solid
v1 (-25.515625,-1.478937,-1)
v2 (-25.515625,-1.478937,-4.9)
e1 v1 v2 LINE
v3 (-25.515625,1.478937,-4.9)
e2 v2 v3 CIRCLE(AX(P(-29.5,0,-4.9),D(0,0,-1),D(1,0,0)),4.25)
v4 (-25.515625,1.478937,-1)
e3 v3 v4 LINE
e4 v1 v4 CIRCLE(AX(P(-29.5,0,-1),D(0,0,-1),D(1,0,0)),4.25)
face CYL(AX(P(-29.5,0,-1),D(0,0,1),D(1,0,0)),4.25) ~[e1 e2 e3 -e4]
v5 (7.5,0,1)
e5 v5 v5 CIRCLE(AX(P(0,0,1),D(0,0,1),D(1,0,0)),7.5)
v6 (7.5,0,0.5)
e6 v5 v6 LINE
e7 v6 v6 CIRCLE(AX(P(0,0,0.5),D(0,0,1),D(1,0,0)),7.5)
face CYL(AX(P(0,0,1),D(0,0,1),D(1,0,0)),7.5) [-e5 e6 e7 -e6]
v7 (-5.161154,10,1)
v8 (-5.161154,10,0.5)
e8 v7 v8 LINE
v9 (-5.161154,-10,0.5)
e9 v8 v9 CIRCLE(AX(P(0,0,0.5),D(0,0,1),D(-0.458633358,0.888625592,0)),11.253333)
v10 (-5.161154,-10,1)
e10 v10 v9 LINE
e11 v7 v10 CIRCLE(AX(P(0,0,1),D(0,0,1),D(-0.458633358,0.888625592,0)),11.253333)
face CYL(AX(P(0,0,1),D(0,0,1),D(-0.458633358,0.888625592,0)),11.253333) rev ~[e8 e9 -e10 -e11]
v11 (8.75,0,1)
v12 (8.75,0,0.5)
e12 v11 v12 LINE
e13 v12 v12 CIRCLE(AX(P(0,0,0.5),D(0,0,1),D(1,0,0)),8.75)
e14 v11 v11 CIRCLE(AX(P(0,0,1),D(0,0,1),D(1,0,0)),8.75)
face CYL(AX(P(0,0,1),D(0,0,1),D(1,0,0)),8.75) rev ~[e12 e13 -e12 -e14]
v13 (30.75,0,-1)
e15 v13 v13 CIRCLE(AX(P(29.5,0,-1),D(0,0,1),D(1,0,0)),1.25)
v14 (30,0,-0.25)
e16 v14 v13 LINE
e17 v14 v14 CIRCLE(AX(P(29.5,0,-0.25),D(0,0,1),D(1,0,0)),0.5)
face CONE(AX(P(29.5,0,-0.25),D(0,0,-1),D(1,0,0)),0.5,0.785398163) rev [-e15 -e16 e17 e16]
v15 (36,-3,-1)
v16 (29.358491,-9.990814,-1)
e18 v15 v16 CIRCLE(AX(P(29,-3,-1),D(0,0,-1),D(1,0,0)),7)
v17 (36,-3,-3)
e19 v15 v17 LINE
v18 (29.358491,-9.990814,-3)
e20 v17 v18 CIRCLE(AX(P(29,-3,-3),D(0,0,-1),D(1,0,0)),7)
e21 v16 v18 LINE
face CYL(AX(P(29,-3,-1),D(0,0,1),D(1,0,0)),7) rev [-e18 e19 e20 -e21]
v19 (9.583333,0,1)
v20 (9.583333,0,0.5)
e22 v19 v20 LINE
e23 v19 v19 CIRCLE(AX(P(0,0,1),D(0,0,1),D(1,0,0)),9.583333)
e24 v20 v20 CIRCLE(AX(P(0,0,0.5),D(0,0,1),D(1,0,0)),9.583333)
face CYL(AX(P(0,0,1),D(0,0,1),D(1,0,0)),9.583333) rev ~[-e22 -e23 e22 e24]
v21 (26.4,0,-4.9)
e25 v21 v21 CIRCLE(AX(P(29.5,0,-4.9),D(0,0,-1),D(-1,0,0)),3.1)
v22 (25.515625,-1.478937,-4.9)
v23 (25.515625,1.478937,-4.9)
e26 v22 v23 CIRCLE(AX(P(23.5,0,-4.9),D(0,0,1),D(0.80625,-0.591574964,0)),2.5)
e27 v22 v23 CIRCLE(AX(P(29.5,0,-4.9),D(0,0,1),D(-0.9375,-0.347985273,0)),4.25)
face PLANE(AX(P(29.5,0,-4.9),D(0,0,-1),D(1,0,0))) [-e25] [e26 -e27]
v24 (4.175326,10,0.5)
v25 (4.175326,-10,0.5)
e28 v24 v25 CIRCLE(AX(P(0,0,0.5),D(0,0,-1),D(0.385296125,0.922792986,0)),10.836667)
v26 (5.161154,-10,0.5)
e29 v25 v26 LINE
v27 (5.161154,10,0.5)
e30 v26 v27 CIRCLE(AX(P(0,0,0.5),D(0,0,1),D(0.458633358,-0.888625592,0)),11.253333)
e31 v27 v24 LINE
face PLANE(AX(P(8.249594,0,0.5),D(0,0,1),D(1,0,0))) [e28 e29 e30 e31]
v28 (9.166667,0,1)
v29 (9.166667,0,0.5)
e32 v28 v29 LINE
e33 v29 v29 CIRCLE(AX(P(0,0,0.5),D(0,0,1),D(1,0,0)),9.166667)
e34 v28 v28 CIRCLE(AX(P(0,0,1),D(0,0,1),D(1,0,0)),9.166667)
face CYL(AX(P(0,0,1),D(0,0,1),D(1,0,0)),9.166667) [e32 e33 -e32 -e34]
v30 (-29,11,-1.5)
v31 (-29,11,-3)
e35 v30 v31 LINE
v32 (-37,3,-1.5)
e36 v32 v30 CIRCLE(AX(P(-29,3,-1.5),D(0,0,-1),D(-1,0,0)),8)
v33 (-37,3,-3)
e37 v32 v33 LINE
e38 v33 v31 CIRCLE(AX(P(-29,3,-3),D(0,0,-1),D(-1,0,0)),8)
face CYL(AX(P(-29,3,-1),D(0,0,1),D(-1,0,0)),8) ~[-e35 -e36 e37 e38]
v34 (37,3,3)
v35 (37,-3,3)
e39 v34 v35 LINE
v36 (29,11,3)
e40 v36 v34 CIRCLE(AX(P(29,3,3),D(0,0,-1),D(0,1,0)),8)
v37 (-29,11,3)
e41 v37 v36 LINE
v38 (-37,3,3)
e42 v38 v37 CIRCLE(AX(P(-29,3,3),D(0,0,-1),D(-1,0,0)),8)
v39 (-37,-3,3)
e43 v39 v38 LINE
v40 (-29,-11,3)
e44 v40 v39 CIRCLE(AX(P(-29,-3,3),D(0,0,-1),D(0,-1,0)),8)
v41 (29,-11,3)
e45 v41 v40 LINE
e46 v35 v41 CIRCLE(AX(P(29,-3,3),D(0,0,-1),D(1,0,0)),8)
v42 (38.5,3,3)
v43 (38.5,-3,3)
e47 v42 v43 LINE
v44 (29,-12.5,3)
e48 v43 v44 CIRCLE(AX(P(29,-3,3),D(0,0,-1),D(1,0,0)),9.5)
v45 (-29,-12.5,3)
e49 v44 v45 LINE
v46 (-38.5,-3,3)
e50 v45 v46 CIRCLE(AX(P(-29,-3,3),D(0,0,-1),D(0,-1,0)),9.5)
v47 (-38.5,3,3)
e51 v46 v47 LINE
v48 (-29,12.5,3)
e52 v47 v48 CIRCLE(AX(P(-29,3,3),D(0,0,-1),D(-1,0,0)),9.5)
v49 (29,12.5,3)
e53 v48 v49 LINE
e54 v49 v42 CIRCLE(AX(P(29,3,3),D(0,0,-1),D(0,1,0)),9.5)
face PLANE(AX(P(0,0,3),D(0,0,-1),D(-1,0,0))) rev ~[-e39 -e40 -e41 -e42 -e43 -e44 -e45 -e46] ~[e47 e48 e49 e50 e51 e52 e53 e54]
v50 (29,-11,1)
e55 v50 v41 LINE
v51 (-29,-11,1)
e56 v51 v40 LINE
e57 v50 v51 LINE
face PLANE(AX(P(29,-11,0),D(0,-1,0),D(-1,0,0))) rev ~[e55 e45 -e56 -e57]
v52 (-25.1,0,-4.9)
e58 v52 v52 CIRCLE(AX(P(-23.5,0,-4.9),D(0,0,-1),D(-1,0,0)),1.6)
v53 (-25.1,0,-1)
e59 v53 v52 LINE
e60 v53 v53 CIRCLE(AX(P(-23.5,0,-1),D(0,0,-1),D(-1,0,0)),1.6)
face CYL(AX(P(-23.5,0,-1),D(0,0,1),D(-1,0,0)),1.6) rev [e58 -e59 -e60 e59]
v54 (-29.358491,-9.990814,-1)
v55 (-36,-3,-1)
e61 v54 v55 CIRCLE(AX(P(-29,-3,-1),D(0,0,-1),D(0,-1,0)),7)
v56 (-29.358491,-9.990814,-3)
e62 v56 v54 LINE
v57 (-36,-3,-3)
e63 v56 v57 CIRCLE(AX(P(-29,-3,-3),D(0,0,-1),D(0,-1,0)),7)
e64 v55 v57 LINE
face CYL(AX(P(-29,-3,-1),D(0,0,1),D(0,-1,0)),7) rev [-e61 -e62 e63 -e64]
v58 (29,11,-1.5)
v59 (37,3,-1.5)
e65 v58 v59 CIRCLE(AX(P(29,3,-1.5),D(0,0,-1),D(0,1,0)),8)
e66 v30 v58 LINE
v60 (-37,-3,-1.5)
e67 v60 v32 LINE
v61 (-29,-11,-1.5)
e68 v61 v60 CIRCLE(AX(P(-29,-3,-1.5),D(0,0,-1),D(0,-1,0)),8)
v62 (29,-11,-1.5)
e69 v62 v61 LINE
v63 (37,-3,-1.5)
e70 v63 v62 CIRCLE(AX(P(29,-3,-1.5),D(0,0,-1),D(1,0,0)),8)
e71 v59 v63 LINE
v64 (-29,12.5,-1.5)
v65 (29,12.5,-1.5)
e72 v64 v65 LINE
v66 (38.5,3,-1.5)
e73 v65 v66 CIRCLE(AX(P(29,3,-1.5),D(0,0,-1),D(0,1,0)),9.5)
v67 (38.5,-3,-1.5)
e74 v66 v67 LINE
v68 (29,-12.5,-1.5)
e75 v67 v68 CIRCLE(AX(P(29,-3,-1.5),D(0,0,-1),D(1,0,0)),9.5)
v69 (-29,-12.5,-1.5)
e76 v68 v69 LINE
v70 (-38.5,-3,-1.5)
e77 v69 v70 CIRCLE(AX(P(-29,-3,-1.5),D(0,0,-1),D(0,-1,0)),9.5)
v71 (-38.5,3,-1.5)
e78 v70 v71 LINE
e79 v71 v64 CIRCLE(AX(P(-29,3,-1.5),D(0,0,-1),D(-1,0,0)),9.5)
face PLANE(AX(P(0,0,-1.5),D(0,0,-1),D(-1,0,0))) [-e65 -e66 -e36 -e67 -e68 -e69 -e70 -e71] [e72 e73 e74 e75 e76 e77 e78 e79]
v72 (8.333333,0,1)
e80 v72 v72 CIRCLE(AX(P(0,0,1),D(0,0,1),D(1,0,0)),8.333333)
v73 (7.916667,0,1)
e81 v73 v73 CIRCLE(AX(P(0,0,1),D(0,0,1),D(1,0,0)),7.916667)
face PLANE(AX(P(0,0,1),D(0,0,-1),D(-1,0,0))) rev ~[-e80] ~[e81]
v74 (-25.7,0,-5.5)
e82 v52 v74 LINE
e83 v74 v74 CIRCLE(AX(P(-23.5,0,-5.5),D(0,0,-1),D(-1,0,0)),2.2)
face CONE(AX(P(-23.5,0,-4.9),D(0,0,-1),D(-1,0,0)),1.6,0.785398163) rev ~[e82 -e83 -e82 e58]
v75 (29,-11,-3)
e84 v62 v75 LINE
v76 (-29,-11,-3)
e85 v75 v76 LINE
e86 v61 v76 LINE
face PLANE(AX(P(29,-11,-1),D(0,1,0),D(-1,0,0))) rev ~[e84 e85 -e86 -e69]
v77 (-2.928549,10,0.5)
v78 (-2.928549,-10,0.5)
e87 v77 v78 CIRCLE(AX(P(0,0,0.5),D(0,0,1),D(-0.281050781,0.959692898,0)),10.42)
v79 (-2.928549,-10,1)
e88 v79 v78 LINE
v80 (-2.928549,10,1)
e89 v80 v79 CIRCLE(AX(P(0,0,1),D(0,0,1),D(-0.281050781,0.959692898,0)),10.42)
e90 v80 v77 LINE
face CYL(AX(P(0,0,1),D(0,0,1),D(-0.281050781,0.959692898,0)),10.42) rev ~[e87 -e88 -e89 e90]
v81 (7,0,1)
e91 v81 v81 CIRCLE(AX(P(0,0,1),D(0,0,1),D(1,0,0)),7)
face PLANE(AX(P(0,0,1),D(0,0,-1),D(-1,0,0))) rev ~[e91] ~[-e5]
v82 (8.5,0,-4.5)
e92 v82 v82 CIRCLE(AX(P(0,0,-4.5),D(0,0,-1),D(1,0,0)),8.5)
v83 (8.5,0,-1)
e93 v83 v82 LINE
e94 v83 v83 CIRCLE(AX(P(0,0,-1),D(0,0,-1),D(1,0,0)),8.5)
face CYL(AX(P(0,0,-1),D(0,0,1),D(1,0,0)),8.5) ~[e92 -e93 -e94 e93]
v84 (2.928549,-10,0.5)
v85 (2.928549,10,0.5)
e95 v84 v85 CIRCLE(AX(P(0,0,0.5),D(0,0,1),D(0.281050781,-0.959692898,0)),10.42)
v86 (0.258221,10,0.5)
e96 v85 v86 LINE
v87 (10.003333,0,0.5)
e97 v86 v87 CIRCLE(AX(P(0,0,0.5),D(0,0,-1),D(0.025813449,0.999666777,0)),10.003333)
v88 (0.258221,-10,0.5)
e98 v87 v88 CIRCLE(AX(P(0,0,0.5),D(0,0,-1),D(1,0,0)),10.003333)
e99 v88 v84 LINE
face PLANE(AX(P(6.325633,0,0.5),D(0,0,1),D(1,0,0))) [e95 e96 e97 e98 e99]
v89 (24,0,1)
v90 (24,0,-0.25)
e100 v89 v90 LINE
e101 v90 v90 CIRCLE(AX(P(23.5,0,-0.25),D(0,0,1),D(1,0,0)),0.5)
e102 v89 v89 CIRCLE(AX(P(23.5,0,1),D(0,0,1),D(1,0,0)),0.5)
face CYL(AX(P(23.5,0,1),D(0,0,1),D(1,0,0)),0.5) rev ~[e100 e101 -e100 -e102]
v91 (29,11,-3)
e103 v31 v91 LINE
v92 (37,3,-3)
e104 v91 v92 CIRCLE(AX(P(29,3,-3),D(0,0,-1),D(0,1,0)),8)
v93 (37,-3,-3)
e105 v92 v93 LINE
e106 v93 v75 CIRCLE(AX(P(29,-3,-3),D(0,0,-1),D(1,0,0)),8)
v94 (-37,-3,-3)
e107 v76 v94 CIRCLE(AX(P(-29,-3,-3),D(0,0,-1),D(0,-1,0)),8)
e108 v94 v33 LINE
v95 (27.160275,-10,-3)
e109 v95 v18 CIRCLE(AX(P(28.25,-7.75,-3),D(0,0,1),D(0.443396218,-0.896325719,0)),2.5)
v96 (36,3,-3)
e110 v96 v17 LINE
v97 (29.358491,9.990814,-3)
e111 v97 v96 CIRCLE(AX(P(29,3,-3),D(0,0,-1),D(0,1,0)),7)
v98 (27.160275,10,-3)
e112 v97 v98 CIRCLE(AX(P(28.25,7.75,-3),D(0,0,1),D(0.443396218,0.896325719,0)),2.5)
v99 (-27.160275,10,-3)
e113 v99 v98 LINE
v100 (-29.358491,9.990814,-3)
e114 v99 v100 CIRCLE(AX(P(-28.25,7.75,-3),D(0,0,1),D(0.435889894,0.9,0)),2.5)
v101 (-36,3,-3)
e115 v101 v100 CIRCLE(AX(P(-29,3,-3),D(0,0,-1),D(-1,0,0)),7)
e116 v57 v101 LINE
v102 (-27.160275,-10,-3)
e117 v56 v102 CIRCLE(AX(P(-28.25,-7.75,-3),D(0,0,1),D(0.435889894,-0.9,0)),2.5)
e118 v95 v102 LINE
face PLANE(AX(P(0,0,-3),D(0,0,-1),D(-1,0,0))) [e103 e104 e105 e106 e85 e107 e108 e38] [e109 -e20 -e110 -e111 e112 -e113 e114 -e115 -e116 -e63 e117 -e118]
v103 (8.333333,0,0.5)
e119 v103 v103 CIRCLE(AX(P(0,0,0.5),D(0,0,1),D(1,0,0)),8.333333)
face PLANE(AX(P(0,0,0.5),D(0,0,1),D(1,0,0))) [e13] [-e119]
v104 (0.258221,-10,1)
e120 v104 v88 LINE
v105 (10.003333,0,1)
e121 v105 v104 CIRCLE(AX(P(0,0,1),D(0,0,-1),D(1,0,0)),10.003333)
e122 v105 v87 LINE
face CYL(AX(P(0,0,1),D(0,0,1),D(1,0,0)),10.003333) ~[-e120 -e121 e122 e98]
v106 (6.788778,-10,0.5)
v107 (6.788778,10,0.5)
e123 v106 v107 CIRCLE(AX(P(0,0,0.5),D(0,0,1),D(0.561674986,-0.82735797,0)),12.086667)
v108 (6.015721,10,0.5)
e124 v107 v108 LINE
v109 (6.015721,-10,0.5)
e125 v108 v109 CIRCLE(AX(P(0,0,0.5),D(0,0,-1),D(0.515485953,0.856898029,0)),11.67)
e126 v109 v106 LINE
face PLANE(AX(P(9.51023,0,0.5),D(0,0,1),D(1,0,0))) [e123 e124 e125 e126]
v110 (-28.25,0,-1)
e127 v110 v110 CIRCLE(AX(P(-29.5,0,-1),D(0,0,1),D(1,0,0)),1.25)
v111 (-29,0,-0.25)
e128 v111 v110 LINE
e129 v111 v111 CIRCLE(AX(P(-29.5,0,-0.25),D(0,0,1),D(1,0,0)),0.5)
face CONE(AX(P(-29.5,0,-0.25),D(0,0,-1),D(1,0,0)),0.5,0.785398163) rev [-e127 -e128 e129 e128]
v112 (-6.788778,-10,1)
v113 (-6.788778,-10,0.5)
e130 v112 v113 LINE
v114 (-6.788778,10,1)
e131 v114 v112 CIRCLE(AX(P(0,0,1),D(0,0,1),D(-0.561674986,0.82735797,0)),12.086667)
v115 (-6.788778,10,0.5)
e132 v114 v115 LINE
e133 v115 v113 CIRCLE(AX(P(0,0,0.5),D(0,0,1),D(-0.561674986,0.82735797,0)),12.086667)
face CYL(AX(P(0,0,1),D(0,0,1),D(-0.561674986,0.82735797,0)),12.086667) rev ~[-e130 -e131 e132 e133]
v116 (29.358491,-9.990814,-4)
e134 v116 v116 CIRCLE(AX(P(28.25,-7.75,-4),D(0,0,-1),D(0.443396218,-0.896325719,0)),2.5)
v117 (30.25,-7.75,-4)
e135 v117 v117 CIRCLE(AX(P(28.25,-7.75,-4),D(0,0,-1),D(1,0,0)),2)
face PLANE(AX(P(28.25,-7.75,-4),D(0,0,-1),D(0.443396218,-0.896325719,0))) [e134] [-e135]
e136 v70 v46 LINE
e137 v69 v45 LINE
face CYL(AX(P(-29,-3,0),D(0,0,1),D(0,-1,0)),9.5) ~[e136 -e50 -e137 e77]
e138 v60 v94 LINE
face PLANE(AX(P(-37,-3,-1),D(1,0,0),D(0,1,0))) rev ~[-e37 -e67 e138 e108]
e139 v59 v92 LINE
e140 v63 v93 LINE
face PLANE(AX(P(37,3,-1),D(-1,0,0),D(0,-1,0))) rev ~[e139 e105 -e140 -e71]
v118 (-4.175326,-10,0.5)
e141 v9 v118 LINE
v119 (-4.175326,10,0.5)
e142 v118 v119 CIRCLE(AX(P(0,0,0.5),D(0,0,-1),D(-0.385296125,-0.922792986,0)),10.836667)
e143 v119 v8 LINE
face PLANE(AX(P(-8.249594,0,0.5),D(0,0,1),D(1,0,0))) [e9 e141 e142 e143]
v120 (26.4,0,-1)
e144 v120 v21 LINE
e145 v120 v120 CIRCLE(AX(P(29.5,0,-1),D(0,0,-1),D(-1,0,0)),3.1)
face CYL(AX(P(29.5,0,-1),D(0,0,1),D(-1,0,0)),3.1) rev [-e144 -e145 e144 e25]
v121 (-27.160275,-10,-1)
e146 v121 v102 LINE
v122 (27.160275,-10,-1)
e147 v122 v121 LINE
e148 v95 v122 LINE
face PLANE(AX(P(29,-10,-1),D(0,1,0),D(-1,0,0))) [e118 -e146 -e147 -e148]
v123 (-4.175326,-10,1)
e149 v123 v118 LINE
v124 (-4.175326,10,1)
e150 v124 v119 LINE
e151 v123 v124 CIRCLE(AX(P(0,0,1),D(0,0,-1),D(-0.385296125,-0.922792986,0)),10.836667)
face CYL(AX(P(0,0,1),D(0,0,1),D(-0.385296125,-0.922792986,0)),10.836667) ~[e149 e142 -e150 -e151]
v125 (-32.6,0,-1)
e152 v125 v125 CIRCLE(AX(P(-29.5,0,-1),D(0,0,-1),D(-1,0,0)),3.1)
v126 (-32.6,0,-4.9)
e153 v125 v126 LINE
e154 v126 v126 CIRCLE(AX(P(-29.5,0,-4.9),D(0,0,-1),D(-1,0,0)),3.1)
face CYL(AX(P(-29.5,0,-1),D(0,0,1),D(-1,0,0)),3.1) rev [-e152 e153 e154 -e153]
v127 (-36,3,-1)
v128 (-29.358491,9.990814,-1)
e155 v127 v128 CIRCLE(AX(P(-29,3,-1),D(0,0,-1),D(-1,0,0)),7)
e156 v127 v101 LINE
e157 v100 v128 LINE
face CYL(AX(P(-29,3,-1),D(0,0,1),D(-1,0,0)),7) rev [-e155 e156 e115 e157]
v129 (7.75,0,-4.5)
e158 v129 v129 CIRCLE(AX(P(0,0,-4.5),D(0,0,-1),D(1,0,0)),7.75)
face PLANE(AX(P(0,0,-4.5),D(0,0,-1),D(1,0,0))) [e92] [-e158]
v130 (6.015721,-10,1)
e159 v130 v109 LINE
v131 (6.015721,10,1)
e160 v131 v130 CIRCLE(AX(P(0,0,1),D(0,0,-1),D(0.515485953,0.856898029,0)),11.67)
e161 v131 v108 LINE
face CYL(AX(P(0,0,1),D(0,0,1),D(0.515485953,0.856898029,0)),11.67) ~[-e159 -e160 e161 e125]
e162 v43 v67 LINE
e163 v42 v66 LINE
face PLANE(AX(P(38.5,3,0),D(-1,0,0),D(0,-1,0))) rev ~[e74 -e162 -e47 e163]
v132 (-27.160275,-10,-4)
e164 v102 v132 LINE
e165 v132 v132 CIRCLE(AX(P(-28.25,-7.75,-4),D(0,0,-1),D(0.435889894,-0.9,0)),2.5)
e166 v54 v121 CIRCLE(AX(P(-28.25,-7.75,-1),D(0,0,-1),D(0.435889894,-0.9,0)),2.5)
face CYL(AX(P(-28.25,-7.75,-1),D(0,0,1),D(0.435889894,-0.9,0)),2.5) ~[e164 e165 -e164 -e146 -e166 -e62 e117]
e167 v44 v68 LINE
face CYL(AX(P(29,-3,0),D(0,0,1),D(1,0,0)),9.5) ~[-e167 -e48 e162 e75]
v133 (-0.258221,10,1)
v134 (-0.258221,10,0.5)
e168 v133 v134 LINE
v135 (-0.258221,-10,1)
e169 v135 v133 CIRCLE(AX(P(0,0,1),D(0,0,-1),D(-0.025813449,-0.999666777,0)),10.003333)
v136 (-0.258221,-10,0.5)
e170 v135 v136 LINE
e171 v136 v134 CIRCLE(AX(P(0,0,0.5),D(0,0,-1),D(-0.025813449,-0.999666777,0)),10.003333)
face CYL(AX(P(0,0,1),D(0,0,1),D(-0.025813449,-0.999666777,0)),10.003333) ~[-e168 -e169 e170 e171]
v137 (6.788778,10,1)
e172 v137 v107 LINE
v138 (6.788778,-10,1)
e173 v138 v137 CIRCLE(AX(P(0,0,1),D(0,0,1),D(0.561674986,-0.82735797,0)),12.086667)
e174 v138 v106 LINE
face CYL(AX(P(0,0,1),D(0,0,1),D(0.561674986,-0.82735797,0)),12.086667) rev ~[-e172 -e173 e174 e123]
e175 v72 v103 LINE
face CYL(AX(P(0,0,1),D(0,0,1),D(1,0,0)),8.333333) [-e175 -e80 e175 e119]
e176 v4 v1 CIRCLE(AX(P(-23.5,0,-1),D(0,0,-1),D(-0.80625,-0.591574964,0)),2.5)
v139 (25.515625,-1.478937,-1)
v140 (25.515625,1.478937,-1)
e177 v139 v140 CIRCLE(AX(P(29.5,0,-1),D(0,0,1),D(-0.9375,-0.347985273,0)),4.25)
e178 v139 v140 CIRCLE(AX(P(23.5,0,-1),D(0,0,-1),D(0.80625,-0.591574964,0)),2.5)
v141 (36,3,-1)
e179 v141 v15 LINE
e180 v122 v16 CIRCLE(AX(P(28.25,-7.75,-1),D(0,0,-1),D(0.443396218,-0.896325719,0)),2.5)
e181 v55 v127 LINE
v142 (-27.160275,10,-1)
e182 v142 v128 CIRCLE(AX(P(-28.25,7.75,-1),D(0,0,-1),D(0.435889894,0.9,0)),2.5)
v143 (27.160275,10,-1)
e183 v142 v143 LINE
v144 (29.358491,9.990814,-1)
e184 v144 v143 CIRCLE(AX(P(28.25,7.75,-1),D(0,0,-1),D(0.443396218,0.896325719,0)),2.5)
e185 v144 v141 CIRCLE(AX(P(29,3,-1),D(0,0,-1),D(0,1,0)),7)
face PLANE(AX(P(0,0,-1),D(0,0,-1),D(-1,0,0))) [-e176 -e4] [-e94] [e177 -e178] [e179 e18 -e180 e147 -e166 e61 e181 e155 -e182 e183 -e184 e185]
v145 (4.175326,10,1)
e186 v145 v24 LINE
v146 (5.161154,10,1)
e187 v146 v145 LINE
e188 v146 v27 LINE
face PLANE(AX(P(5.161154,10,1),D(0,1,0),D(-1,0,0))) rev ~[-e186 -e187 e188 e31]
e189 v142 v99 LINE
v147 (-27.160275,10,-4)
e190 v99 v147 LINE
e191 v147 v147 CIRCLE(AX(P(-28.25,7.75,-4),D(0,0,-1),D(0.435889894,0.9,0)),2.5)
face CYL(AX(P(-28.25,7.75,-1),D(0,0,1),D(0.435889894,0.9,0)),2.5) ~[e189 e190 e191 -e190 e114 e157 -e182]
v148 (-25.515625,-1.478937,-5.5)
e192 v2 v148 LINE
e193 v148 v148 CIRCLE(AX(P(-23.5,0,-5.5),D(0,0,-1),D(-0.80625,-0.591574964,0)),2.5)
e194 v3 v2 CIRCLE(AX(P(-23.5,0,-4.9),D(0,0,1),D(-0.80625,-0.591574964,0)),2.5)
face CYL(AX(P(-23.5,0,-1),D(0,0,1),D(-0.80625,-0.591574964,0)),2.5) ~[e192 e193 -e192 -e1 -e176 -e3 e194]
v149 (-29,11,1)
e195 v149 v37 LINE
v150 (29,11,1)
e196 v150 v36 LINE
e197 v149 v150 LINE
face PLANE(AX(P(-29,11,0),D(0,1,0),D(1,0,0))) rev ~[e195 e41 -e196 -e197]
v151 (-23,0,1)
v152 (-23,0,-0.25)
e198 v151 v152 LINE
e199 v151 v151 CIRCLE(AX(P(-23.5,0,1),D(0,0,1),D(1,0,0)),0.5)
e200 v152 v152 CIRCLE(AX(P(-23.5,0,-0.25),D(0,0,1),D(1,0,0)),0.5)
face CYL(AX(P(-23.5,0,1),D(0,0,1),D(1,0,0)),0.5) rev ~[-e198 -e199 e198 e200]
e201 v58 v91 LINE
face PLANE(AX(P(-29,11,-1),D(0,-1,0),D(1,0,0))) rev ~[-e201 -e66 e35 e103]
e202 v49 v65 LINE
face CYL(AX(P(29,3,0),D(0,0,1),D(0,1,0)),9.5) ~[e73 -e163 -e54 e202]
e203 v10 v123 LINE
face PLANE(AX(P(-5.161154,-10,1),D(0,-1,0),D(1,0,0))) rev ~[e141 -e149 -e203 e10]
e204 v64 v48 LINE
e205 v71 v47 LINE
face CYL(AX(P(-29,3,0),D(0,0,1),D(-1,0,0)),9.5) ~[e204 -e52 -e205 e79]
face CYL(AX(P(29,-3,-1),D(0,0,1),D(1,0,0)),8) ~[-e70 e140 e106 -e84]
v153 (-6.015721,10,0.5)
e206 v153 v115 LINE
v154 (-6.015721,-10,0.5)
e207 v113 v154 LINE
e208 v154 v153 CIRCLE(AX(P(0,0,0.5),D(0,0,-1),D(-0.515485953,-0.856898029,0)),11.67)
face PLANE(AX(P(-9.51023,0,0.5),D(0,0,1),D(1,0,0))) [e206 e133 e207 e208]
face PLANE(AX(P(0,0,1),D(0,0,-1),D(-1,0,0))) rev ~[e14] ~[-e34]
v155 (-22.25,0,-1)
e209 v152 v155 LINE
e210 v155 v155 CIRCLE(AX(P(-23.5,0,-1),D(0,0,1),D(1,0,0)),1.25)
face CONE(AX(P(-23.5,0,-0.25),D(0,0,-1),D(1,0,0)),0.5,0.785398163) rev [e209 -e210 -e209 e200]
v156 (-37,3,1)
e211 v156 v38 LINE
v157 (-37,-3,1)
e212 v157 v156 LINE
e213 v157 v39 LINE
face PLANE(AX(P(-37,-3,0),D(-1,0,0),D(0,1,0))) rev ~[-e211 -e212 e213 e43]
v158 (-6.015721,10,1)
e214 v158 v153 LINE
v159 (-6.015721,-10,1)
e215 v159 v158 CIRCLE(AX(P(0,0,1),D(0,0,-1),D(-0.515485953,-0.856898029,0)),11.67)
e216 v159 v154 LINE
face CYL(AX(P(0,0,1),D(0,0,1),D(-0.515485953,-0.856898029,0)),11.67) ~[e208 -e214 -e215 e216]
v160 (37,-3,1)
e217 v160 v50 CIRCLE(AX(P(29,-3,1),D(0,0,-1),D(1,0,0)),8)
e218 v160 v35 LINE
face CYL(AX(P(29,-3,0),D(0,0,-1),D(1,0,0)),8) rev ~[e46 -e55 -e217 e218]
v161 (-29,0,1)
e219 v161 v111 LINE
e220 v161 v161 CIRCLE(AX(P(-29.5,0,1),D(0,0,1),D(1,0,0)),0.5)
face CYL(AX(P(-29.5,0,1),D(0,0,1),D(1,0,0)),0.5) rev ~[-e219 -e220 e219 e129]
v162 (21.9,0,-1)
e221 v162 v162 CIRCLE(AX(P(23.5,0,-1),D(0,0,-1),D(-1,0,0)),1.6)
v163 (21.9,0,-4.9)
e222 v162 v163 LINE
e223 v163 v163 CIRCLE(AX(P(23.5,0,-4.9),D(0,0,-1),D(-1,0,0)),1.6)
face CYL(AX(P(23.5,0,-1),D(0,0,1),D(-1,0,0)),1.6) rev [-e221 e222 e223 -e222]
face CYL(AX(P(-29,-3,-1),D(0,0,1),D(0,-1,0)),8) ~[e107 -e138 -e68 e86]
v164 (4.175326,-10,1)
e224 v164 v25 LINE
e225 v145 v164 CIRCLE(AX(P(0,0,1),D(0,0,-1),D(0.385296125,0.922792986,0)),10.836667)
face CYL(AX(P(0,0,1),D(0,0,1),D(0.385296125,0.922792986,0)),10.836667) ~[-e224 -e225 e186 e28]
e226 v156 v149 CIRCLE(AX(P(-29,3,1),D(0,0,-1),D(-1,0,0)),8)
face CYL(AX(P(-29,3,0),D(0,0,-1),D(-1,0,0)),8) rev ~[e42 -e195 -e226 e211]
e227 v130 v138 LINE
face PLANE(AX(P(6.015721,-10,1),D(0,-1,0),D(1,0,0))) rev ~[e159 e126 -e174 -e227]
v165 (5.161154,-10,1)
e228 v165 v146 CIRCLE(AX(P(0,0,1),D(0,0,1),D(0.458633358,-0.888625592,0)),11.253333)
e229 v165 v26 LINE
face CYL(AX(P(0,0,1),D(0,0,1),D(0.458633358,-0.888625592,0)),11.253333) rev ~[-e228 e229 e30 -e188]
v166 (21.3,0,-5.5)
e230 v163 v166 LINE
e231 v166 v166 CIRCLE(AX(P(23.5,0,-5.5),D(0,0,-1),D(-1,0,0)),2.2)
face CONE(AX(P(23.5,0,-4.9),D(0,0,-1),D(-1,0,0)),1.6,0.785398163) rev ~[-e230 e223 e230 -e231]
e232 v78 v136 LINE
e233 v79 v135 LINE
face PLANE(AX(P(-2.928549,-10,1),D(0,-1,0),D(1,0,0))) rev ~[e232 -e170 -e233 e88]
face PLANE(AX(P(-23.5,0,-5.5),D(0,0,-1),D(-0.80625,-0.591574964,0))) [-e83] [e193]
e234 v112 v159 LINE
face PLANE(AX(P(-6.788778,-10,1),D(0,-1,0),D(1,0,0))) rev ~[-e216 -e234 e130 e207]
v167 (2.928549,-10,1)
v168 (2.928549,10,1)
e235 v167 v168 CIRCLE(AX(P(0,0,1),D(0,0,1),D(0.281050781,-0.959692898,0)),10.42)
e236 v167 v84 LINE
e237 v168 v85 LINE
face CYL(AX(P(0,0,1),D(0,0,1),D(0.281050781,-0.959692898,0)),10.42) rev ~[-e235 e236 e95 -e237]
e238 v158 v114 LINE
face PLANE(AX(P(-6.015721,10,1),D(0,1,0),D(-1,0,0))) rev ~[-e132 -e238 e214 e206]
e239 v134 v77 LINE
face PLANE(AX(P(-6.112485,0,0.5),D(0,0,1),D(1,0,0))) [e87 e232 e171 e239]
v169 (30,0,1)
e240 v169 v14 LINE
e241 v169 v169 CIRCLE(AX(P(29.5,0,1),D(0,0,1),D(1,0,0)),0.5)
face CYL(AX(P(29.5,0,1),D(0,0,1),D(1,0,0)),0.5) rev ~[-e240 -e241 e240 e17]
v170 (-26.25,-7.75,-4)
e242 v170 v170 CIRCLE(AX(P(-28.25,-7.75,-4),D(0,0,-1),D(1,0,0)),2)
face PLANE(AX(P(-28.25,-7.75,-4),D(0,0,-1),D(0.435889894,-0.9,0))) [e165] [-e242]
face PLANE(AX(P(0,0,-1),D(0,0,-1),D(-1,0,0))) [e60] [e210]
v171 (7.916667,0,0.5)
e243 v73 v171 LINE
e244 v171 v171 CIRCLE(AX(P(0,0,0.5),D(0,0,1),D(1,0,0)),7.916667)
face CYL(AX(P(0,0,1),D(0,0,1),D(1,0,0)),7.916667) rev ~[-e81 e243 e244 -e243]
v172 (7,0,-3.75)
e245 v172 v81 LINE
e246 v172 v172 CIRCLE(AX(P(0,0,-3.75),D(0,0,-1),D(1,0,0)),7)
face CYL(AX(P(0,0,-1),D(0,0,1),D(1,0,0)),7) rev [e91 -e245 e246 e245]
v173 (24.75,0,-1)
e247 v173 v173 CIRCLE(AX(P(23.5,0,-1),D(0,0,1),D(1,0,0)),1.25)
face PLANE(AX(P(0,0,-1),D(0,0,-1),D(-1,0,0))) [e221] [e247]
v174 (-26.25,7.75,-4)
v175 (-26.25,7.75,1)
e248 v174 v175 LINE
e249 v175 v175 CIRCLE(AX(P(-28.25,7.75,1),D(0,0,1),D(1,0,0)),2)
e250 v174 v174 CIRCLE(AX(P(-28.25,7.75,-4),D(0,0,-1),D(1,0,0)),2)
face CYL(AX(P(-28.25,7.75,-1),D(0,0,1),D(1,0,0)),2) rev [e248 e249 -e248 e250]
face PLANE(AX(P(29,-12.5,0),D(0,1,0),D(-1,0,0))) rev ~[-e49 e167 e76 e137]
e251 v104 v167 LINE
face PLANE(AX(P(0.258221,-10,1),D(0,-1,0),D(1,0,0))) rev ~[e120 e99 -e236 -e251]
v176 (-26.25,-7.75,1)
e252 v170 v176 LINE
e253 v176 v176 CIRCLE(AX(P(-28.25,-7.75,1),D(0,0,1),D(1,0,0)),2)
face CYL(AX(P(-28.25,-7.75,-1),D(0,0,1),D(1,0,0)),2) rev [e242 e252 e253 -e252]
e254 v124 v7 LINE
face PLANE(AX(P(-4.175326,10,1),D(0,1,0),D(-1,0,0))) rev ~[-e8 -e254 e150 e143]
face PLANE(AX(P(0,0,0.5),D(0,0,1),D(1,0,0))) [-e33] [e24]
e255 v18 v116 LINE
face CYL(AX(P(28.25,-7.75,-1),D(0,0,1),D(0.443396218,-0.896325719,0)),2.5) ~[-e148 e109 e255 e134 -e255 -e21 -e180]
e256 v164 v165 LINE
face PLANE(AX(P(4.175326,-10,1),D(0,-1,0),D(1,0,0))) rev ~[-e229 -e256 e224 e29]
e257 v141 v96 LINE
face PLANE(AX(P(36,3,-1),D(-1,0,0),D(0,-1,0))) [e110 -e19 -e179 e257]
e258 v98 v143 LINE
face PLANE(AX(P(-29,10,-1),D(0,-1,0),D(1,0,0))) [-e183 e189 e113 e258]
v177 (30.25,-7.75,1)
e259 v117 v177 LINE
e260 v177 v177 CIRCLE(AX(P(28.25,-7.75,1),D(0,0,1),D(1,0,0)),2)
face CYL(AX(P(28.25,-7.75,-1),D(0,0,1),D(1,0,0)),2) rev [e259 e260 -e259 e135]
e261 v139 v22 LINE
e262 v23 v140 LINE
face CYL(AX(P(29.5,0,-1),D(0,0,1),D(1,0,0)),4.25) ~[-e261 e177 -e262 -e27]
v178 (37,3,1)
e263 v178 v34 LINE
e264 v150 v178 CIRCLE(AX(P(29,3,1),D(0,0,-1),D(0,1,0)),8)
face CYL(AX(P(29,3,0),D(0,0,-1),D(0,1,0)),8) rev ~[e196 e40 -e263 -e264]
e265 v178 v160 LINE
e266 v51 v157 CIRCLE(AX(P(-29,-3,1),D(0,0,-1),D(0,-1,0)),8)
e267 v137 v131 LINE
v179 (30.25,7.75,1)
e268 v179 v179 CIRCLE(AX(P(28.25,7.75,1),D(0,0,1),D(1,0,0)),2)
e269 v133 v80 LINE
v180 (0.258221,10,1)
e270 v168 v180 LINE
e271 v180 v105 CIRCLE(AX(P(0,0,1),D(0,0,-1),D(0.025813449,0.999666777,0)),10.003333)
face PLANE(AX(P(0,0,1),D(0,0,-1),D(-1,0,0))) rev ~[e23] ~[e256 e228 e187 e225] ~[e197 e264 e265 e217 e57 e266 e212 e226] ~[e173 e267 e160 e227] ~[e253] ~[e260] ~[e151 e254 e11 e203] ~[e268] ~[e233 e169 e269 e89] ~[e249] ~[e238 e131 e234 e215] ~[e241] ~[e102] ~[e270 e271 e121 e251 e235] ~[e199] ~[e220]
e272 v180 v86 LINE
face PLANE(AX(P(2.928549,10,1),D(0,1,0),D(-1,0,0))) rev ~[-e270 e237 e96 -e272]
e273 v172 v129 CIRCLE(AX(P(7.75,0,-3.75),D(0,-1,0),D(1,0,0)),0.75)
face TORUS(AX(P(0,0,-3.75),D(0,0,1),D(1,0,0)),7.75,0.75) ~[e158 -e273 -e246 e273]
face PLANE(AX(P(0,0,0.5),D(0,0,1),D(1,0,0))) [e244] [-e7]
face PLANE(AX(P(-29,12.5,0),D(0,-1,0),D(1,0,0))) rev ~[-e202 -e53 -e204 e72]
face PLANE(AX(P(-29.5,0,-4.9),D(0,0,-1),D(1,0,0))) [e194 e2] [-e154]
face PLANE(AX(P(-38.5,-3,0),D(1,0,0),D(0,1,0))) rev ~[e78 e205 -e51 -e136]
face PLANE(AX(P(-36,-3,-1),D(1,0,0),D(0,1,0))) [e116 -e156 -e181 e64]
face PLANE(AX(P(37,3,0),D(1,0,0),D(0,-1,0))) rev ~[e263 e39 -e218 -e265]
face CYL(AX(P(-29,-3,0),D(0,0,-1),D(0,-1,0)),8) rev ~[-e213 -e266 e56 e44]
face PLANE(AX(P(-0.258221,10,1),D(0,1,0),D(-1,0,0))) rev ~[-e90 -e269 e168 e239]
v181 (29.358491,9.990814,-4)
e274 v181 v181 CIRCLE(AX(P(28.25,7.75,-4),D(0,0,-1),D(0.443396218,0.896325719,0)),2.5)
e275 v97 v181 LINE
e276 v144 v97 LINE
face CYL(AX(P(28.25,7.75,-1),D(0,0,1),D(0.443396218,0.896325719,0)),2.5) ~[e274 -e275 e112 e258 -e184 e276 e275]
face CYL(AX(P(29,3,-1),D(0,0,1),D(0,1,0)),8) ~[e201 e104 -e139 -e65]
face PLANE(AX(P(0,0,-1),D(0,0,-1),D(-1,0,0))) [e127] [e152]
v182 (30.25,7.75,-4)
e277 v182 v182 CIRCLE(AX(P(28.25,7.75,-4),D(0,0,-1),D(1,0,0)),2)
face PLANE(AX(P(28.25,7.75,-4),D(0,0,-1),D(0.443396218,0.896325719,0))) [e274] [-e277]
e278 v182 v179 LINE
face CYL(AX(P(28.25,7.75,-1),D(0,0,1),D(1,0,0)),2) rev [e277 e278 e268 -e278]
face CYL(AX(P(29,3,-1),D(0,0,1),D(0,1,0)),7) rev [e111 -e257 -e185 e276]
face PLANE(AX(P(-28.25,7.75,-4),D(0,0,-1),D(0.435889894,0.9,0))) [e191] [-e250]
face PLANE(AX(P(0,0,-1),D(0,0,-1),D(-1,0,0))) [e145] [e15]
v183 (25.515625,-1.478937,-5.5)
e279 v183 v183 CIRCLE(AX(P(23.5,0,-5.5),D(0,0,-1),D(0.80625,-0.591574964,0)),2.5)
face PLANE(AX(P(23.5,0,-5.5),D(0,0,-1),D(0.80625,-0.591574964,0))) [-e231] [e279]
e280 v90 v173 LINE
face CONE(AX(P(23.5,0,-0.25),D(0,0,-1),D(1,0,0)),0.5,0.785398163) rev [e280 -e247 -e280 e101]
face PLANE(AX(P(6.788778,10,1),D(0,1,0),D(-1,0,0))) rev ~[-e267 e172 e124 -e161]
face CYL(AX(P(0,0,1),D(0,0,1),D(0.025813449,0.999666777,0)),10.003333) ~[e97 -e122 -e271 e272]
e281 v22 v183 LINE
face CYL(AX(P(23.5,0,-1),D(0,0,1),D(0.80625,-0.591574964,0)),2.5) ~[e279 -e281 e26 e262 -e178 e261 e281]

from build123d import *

# Parameters (mm, degrees)
BOSS_EXTRUDE1_DEPTH      = 1
BOSS_EXTRUDE2_DEPTH      = 3
BOSS_EXTRUDE2_DEPTH_BACK = 1.5
BOSS_EXTRUDE3_DEPTH      = 2
SKETCH3_R                = 7
SKETCH3_R_2              = 2
SKETCH3_R_3              = 0.5
CUT_EXTRUDE1_DEPTH       = 41.675545479
SKETCH4_R                = 8.5
SKETCH4_R_2              = 7
BOSS_EXTRUDE4_DEPTH      = 3.5
SKETCH5_R                = 4.25
SKETCH5_R_2              = 3.1
BOSS_EXTRUDE5_DEPTH      = 3.9
SKETCH6_R                = 2.5
SKETCH6_R_2              = 1.6
BOSS_EXTRUDE6_DEPTH      = 4.5
SKETCH7_R                = 2.5
SKETCH7_R_2              = 2
BOSS_EXTRUDE7_DEPTH      = 3
FILLET1_R                = 0.75
CHAMFER1_SIZE            = 0.75
CHAMFER2_SIZE            = 0.6
SKETCH8_R                = 9.583333337
SKETCH8_R_2              = 9.16666667
SKETCH8_R_3              = 8.750000003
SKETCH8_R_4              = 8.333333337
SKETCH8_R_5              = 7.91666667
SKETCH8_R_6              = 7.5
CUT_EXTRUDE6_DEPTH       = 0.5


with BuildPart() as part:
    # Sketch1 → Boss-Extrude1 (new, symmetric)
    with BuildSketch(Plane.XY):
        with BuildLine():
            Line((-29, 11), (29, 11))
            ThreePointArc((29, 11), (34.656854249, 8.656854249), (37, 3))
            Line((37, 3), (37, -3))
            ThreePointArc((37, -3), (34.656854249, -8.656854249), (29, -11))
            Line((29, -11), (-29, -11))
            ThreePointArc((-29, -11), (-34.656854249, -8.656854249), (-37, -3))
            Line((-37, -3), (-37, 3))
            ThreePointArc((-37, 3), (-34.656854249, 8.656854249), (-29, 11))
        make_face()
    extrude(amount=BOSS_EXTRUDE1_DEPTH, both=True)

    # Sketch1_4 → Boss-Extrude2 (add, two sides)
    with BuildSketch(Plane.XY) as boss_extrude2_sk:
        with BuildLine():
            Line((-29, 12.5), (29, 12.5))
            ThreePointArc((29, 12.5), (35.717514421, 9.717514421), (38.5, 3))
            Line((38.5, 3), (38.5, -3))
            ThreePointArc((38.5, -3), (35.717514421, -9.717514421), (29, -12.5))
            Line((29, -12.5), (-29, -12.5))
            ThreePointArc((-29, -12.5), (-35.717514421, -9.717514421), (-38.5, -3))
            Line((-38.5, -3), (-38.5, 3))
            ThreePointArc((-38.5, 3), (-35.717514421, 9.717514421), (-29, 12.5))
        make_face()
        with BuildLine():
            Line((-29, 11), (29, 11))
            ThreePointArc((29, 11), (34.656854249, 8.656854249), (37, 3))
            Line((37, 3), (37, -3))
            ThreePointArc((37, -3), (34.656854249, -8.656854249), (29, -11))
            Line((29, -11), (-29, -11))
            ThreePointArc((-29, -11), (-34.656854249, -8.656854249), (-37, -3))
            Line((-37, -3), (-37, 3))
            ThreePointArc((-37, 3), (-34.656854249, 8.656854249), (-29, 11))
        make_face(mode=Mode.SUBTRACT)
    extrude(amount=BOSS_EXTRUDE2_DEPTH)
    extrude(boss_extrude2_sk.sketch, amount=-BOSS_EXTRUDE2_DEPTH_BACK)

    # Sketch2 → Boss-Extrude3 (add)
    with BuildSketch(Plane(origin=(0, 0, -1), x_dir=(-1, 0, 0), z_dir=(0, 0, -1))):
        with BuildLine():
            Line((29, 11), (-29, 11))
            ThreePointArc((-29, 11), (-34.656854249, 8.656854249), (-37, 3))
            Line((-37, 3), (-37, -3))
            ThreePointArc((-37, -3), (-34.656854249, -8.656854249), (-29, -11))
            Line((-29, -11), (29, -11))
            ThreePointArc((29, -11), (34.656854249, -8.656854249), (37, -3))
            Line((37, -3), (37, 3))
            ThreePointArc((37, 3), (34.656854249, 8.656854249), (29, 11))
        make_face()
        with BuildLine():
            Line((29, 10), (-29, 10))
            ThreePointArc((-29, 10), (-33.949747468, 7.949747468), (-36, 3))
            Line((-36, 3), (-36, -3))
            ThreePointArc((-36, -3), (-33.949747468, -7.949747468), (-29, -10))
            Line((-29, -10), (29, -10))
            ThreePointArc((29, -10), (33.949747468, -7.949747468), (36, -3))
            Line((36, -3), (36, 3))
            ThreePointArc((36, 3), (33.949747468, 7.949747468), (29, 10))
        make_face(mode=Mode.SUBTRACT)
    extrude(amount=BOSS_EXTRUDE3_DEPTH)

    # Sketch3 → Cut-Extrude1 (cut, through all)
    with BuildSketch(Plane.XY.offset(1)):
        Circle(SKETCH3_R)
        with Locations((-28.25, 7.75)):
            Circle(SKETCH3_R_2)
        with Locations((28.25, 7.75)):
            Circle(SKETCH3_R_2)
        with Locations((28.25, -7.75)):
            Circle(SKETCH3_R_2)
        with Locations((-28.25, -7.75)):
            Circle(SKETCH3_R_2)
        with Locations((-29.5, 0)):
            Circle(SKETCH3_R_3)
        with Locations((29.5, 0)):
            Circle(SKETCH3_R_3)
        with Locations((23.5, 0)):
            Circle(SKETCH3_R_3)
        with Locations((-23.5, 0)):
            Circle(SKETCH3_R_3)
    extrude(amount=-CUT_EXTRUDE1_DEPTH, mode=Mode.SUBTRACT)

    # Sketch4 → Boss-Extrude4 (add)
    with BuildSketch(Plane(origin=(0, 0, -1), x_dir=(-1, 0, 0), z_dir=(0, 0, -1))):
        with Locations(Location((0, 0, 0), (0, 0, 180))):
            Circle(SKETCH4_R)
        with Locations(Location((0, 0, 0), (0, 0, 180))):
            Circle(SKETCH4_R_2, mode=Mode.SUBTRACT)
    extrude(amount=BOSS_EXTRUDE4_DEPTH)

    # Sketch5 → Boss-Extrude5 (add)
    with BuildSketch(Plane(origin=(0, 0, -1), x_dir=(-1, 0, 0), z_dir=(0, 0, -1))):
        with Locations(Location((29.5, 0, 0), (0, 0, 180))):
            Circle(SKETCH5_R)
        with Locations((29.5, 0)):
            Circle(SKETCH5_R_2, mode=Mode.SUBTRACT)
        with Locations(Location((-29.5, 0, 0), (0, 0, 180))):
            Circle(SKETCH5_R)
        with Locations((-29.5, 0)):
            Circle(SKETCH5_R_2, mode=Mode.SUBTRACT)
    extrude(amount=BOSS_EXTRUDE5_DEPTH)

    # Sketch6 → Boss-Extrude6 (add)
    with BuildSketch(Plane(origin=(0, 0, -1), x_dir=(-1, 0, 0), z_dir=(0, 0, -1))):
        with Locations(Location((23.5, 0, 0), (0, 0, 323.731147776))):
            Circle(SKETCH6_R)
        with Locations((23.5, 0)):
            Circle(SKETCH6_R_2, mode=Mode.SUBTRACT)
        with Locations(Location((-23.5, 0, 0), (0, 0, 216.268852224))):
            Circle(SKETCH6_R)
        with Locations((-23.5, 0)):
            Circle(SKETCH6_R_2, mode=Mode.SUBTRACT)
    extrude(amount=BOSS_EXTRUDE6_DEPTH)

    # Sketch7 → Boss-Extrude7 (add)
    with BuildSketch(Plane(origin=(0, 0, -1), x_dir=(-1, 0, 0), z_dir=(0, 0, -1))):
        with Locations(Location((-28.25, 7.75, 0), (0, 0, 116.320774831))):
            Circle(SKETCH7_R)
        with Locations(Location((-28.25, 7.75, 0), (0, 0, 180))):
            Circle(SKETCH7_R_2, mode=Mode.SUBTRACT)
        with Locations(Location((-28.25, -7.75, 0), (0, 0, 243.679225169))):
            Circle(SKETCH7_R)
        with Locations(Location((-28.25, -7.75, 0), (0, 0, 180))):
            Circle(SKETCH7_R_2, mode=Mode.SUBTRACT)
        with Locations(Location((28.25, 7.75, 0), (0, 0, 115.841932763))):
            Circle(SKETCH7_R)
        with Locations(Location((28.25, 7.75, 0), (0, 0, 180))):
            Circle(SKETCH7_R_2, mode=Mode.SUBTRACT)
        with Locations(Location((28.25, -7.75, 0), (0, 0, 244.158067237))):
            Circle(SKETCH7_R)
        with Locations(Location((28.25, -7.75, 0), (0, 0, 180))):
            Circle(SKETCH7_R_2, mode=Mode.SUBTRACT)
    extrude(amount=BOSS_EXTRUDE7_DEPTH)

    # Fillet1
    fillet1_edges = [part.edges().sort_by_distance(p)[0] for p in [
        (-7, 0, -4.5),
    ]]
    fillet(fillet1_edges, radius=FILLET1_R)

    # Chamfer1
    chamfer1_edges = [part.edges().sort_by_distance(p)[0] for p in [
        (-24, 0, -1),
        (23, 0, -1),
        (29, 0, -1),
        (-30, 0, -1),
    ]]
    chamfer(chamfer1_edges, length=CHAMFER1_SIZE)

    # Chamfer2
    chamfer2_edges = [part.edges().sort_by_distance(p)[0] for p in [
        (-21.9, 0, -5.5),
        (25.1, 0, -5.5),
    ]]
    chamfer(chamfer2_edges, length=CHAMFER2_SIZE)

    # Sketch8 → Cut-Extrude6 (cut)
    with BuildSketch(Plane.XY.offset(1)):
        Circle(SKETCH8_R)
        Circle(SKETCH8_R_2, mode=Mode.SUBTRACT)
        Circle(SKETCH8_R_3)
        Circle(SKETCH8_R_4, mode=Mode.SUBTRACT)
        Circle(SKETCH8_R_5)
        Circle(SKETCH8_R_6, mode=Mode.SUBTRACT)
        with BuildLine():
            Line((-0.258220535, 10), (-2.928549141, 10))
            ThreePointArc((-2.928549141, 10), (-10.420000003, 0), (-2.928549141, -10))
            Line((-2.928549141, -10), (-0.258220535, -10))
            ThreePointArc((-0.258220535, -10), (-10.003333337, 0), (-0.258220535, 10))
        make_face()
        with BuildLine():
            Line((-4.175325678, 10), (-5.161154056, 10))
            ThreePointArc((-5.161154056, 10), (-11.253333337, 0), (-5.161154056, -10))
            Line((-5.161154056, -10), (-4.175325678, -10))
            ThreePointArc((-4.175325678, -10), (-10.83666667, 0), (-4.175325678, 10))
        make_face()
        with BuildLine():
            Line((-6.015721077, 10), (-6.788778328, 10))
            ThreePointArc((-6.788778328, 10), (-12.08666667, 0), (-6.788778328, -10))
            Line((-6.788778328, -10), (-6.015721077, -10))
            ThreePointArc((-6.015721077, -10), (-11.670000003, 0), (-6.015721077, 10))
        make_face()
        with BuildLine():
            Line((2.928549141, 10), (0.258220535, 10))
            ThreePointArc((0.258220535, 10), (7.164137908, 6.981533204), (10.003333337, 0))
            ThreePointArc((10.003333337, 0), (7.164137908, -6.981533204), (0.258220535, -10))
            Line((0.258220535, -10), (2.928549141, -10))
            ThreePointArc((2.928549141, -10), (10.420000003, 0), (2.928549141, 10))
        make_face()
        with BuildLine():
            Line((5.161154056, 10), (4.175325678, 10))
            ThreePointArc((4.175325678, 10), (10.83666667, 0), (4.175325678, -10))
            Line((4.175325678, -10), (5.161154056, -10))
            ThreePointArc((5.161154056, -10), (11.253333337, 0), (5.161154056, 10))
        make_face()
        with BuildLine():
            Line((6.788778328, 10), (6.015721077, 10))
            ThreePointArc((6.015721077, 10), (11.670000003, 0), (6.015721077, -10))
            Line((6.015721077, -10), (6.788778328, -10))
            ThreePointArc((6.788778328, -10), (12.08666667, 0), (6.788778328, 10))
        make_face()
    extrude(amount=-CUT_EXTRUDE6_DEPTH, mode=Mode.SUBTRACT)


solid = part.part
